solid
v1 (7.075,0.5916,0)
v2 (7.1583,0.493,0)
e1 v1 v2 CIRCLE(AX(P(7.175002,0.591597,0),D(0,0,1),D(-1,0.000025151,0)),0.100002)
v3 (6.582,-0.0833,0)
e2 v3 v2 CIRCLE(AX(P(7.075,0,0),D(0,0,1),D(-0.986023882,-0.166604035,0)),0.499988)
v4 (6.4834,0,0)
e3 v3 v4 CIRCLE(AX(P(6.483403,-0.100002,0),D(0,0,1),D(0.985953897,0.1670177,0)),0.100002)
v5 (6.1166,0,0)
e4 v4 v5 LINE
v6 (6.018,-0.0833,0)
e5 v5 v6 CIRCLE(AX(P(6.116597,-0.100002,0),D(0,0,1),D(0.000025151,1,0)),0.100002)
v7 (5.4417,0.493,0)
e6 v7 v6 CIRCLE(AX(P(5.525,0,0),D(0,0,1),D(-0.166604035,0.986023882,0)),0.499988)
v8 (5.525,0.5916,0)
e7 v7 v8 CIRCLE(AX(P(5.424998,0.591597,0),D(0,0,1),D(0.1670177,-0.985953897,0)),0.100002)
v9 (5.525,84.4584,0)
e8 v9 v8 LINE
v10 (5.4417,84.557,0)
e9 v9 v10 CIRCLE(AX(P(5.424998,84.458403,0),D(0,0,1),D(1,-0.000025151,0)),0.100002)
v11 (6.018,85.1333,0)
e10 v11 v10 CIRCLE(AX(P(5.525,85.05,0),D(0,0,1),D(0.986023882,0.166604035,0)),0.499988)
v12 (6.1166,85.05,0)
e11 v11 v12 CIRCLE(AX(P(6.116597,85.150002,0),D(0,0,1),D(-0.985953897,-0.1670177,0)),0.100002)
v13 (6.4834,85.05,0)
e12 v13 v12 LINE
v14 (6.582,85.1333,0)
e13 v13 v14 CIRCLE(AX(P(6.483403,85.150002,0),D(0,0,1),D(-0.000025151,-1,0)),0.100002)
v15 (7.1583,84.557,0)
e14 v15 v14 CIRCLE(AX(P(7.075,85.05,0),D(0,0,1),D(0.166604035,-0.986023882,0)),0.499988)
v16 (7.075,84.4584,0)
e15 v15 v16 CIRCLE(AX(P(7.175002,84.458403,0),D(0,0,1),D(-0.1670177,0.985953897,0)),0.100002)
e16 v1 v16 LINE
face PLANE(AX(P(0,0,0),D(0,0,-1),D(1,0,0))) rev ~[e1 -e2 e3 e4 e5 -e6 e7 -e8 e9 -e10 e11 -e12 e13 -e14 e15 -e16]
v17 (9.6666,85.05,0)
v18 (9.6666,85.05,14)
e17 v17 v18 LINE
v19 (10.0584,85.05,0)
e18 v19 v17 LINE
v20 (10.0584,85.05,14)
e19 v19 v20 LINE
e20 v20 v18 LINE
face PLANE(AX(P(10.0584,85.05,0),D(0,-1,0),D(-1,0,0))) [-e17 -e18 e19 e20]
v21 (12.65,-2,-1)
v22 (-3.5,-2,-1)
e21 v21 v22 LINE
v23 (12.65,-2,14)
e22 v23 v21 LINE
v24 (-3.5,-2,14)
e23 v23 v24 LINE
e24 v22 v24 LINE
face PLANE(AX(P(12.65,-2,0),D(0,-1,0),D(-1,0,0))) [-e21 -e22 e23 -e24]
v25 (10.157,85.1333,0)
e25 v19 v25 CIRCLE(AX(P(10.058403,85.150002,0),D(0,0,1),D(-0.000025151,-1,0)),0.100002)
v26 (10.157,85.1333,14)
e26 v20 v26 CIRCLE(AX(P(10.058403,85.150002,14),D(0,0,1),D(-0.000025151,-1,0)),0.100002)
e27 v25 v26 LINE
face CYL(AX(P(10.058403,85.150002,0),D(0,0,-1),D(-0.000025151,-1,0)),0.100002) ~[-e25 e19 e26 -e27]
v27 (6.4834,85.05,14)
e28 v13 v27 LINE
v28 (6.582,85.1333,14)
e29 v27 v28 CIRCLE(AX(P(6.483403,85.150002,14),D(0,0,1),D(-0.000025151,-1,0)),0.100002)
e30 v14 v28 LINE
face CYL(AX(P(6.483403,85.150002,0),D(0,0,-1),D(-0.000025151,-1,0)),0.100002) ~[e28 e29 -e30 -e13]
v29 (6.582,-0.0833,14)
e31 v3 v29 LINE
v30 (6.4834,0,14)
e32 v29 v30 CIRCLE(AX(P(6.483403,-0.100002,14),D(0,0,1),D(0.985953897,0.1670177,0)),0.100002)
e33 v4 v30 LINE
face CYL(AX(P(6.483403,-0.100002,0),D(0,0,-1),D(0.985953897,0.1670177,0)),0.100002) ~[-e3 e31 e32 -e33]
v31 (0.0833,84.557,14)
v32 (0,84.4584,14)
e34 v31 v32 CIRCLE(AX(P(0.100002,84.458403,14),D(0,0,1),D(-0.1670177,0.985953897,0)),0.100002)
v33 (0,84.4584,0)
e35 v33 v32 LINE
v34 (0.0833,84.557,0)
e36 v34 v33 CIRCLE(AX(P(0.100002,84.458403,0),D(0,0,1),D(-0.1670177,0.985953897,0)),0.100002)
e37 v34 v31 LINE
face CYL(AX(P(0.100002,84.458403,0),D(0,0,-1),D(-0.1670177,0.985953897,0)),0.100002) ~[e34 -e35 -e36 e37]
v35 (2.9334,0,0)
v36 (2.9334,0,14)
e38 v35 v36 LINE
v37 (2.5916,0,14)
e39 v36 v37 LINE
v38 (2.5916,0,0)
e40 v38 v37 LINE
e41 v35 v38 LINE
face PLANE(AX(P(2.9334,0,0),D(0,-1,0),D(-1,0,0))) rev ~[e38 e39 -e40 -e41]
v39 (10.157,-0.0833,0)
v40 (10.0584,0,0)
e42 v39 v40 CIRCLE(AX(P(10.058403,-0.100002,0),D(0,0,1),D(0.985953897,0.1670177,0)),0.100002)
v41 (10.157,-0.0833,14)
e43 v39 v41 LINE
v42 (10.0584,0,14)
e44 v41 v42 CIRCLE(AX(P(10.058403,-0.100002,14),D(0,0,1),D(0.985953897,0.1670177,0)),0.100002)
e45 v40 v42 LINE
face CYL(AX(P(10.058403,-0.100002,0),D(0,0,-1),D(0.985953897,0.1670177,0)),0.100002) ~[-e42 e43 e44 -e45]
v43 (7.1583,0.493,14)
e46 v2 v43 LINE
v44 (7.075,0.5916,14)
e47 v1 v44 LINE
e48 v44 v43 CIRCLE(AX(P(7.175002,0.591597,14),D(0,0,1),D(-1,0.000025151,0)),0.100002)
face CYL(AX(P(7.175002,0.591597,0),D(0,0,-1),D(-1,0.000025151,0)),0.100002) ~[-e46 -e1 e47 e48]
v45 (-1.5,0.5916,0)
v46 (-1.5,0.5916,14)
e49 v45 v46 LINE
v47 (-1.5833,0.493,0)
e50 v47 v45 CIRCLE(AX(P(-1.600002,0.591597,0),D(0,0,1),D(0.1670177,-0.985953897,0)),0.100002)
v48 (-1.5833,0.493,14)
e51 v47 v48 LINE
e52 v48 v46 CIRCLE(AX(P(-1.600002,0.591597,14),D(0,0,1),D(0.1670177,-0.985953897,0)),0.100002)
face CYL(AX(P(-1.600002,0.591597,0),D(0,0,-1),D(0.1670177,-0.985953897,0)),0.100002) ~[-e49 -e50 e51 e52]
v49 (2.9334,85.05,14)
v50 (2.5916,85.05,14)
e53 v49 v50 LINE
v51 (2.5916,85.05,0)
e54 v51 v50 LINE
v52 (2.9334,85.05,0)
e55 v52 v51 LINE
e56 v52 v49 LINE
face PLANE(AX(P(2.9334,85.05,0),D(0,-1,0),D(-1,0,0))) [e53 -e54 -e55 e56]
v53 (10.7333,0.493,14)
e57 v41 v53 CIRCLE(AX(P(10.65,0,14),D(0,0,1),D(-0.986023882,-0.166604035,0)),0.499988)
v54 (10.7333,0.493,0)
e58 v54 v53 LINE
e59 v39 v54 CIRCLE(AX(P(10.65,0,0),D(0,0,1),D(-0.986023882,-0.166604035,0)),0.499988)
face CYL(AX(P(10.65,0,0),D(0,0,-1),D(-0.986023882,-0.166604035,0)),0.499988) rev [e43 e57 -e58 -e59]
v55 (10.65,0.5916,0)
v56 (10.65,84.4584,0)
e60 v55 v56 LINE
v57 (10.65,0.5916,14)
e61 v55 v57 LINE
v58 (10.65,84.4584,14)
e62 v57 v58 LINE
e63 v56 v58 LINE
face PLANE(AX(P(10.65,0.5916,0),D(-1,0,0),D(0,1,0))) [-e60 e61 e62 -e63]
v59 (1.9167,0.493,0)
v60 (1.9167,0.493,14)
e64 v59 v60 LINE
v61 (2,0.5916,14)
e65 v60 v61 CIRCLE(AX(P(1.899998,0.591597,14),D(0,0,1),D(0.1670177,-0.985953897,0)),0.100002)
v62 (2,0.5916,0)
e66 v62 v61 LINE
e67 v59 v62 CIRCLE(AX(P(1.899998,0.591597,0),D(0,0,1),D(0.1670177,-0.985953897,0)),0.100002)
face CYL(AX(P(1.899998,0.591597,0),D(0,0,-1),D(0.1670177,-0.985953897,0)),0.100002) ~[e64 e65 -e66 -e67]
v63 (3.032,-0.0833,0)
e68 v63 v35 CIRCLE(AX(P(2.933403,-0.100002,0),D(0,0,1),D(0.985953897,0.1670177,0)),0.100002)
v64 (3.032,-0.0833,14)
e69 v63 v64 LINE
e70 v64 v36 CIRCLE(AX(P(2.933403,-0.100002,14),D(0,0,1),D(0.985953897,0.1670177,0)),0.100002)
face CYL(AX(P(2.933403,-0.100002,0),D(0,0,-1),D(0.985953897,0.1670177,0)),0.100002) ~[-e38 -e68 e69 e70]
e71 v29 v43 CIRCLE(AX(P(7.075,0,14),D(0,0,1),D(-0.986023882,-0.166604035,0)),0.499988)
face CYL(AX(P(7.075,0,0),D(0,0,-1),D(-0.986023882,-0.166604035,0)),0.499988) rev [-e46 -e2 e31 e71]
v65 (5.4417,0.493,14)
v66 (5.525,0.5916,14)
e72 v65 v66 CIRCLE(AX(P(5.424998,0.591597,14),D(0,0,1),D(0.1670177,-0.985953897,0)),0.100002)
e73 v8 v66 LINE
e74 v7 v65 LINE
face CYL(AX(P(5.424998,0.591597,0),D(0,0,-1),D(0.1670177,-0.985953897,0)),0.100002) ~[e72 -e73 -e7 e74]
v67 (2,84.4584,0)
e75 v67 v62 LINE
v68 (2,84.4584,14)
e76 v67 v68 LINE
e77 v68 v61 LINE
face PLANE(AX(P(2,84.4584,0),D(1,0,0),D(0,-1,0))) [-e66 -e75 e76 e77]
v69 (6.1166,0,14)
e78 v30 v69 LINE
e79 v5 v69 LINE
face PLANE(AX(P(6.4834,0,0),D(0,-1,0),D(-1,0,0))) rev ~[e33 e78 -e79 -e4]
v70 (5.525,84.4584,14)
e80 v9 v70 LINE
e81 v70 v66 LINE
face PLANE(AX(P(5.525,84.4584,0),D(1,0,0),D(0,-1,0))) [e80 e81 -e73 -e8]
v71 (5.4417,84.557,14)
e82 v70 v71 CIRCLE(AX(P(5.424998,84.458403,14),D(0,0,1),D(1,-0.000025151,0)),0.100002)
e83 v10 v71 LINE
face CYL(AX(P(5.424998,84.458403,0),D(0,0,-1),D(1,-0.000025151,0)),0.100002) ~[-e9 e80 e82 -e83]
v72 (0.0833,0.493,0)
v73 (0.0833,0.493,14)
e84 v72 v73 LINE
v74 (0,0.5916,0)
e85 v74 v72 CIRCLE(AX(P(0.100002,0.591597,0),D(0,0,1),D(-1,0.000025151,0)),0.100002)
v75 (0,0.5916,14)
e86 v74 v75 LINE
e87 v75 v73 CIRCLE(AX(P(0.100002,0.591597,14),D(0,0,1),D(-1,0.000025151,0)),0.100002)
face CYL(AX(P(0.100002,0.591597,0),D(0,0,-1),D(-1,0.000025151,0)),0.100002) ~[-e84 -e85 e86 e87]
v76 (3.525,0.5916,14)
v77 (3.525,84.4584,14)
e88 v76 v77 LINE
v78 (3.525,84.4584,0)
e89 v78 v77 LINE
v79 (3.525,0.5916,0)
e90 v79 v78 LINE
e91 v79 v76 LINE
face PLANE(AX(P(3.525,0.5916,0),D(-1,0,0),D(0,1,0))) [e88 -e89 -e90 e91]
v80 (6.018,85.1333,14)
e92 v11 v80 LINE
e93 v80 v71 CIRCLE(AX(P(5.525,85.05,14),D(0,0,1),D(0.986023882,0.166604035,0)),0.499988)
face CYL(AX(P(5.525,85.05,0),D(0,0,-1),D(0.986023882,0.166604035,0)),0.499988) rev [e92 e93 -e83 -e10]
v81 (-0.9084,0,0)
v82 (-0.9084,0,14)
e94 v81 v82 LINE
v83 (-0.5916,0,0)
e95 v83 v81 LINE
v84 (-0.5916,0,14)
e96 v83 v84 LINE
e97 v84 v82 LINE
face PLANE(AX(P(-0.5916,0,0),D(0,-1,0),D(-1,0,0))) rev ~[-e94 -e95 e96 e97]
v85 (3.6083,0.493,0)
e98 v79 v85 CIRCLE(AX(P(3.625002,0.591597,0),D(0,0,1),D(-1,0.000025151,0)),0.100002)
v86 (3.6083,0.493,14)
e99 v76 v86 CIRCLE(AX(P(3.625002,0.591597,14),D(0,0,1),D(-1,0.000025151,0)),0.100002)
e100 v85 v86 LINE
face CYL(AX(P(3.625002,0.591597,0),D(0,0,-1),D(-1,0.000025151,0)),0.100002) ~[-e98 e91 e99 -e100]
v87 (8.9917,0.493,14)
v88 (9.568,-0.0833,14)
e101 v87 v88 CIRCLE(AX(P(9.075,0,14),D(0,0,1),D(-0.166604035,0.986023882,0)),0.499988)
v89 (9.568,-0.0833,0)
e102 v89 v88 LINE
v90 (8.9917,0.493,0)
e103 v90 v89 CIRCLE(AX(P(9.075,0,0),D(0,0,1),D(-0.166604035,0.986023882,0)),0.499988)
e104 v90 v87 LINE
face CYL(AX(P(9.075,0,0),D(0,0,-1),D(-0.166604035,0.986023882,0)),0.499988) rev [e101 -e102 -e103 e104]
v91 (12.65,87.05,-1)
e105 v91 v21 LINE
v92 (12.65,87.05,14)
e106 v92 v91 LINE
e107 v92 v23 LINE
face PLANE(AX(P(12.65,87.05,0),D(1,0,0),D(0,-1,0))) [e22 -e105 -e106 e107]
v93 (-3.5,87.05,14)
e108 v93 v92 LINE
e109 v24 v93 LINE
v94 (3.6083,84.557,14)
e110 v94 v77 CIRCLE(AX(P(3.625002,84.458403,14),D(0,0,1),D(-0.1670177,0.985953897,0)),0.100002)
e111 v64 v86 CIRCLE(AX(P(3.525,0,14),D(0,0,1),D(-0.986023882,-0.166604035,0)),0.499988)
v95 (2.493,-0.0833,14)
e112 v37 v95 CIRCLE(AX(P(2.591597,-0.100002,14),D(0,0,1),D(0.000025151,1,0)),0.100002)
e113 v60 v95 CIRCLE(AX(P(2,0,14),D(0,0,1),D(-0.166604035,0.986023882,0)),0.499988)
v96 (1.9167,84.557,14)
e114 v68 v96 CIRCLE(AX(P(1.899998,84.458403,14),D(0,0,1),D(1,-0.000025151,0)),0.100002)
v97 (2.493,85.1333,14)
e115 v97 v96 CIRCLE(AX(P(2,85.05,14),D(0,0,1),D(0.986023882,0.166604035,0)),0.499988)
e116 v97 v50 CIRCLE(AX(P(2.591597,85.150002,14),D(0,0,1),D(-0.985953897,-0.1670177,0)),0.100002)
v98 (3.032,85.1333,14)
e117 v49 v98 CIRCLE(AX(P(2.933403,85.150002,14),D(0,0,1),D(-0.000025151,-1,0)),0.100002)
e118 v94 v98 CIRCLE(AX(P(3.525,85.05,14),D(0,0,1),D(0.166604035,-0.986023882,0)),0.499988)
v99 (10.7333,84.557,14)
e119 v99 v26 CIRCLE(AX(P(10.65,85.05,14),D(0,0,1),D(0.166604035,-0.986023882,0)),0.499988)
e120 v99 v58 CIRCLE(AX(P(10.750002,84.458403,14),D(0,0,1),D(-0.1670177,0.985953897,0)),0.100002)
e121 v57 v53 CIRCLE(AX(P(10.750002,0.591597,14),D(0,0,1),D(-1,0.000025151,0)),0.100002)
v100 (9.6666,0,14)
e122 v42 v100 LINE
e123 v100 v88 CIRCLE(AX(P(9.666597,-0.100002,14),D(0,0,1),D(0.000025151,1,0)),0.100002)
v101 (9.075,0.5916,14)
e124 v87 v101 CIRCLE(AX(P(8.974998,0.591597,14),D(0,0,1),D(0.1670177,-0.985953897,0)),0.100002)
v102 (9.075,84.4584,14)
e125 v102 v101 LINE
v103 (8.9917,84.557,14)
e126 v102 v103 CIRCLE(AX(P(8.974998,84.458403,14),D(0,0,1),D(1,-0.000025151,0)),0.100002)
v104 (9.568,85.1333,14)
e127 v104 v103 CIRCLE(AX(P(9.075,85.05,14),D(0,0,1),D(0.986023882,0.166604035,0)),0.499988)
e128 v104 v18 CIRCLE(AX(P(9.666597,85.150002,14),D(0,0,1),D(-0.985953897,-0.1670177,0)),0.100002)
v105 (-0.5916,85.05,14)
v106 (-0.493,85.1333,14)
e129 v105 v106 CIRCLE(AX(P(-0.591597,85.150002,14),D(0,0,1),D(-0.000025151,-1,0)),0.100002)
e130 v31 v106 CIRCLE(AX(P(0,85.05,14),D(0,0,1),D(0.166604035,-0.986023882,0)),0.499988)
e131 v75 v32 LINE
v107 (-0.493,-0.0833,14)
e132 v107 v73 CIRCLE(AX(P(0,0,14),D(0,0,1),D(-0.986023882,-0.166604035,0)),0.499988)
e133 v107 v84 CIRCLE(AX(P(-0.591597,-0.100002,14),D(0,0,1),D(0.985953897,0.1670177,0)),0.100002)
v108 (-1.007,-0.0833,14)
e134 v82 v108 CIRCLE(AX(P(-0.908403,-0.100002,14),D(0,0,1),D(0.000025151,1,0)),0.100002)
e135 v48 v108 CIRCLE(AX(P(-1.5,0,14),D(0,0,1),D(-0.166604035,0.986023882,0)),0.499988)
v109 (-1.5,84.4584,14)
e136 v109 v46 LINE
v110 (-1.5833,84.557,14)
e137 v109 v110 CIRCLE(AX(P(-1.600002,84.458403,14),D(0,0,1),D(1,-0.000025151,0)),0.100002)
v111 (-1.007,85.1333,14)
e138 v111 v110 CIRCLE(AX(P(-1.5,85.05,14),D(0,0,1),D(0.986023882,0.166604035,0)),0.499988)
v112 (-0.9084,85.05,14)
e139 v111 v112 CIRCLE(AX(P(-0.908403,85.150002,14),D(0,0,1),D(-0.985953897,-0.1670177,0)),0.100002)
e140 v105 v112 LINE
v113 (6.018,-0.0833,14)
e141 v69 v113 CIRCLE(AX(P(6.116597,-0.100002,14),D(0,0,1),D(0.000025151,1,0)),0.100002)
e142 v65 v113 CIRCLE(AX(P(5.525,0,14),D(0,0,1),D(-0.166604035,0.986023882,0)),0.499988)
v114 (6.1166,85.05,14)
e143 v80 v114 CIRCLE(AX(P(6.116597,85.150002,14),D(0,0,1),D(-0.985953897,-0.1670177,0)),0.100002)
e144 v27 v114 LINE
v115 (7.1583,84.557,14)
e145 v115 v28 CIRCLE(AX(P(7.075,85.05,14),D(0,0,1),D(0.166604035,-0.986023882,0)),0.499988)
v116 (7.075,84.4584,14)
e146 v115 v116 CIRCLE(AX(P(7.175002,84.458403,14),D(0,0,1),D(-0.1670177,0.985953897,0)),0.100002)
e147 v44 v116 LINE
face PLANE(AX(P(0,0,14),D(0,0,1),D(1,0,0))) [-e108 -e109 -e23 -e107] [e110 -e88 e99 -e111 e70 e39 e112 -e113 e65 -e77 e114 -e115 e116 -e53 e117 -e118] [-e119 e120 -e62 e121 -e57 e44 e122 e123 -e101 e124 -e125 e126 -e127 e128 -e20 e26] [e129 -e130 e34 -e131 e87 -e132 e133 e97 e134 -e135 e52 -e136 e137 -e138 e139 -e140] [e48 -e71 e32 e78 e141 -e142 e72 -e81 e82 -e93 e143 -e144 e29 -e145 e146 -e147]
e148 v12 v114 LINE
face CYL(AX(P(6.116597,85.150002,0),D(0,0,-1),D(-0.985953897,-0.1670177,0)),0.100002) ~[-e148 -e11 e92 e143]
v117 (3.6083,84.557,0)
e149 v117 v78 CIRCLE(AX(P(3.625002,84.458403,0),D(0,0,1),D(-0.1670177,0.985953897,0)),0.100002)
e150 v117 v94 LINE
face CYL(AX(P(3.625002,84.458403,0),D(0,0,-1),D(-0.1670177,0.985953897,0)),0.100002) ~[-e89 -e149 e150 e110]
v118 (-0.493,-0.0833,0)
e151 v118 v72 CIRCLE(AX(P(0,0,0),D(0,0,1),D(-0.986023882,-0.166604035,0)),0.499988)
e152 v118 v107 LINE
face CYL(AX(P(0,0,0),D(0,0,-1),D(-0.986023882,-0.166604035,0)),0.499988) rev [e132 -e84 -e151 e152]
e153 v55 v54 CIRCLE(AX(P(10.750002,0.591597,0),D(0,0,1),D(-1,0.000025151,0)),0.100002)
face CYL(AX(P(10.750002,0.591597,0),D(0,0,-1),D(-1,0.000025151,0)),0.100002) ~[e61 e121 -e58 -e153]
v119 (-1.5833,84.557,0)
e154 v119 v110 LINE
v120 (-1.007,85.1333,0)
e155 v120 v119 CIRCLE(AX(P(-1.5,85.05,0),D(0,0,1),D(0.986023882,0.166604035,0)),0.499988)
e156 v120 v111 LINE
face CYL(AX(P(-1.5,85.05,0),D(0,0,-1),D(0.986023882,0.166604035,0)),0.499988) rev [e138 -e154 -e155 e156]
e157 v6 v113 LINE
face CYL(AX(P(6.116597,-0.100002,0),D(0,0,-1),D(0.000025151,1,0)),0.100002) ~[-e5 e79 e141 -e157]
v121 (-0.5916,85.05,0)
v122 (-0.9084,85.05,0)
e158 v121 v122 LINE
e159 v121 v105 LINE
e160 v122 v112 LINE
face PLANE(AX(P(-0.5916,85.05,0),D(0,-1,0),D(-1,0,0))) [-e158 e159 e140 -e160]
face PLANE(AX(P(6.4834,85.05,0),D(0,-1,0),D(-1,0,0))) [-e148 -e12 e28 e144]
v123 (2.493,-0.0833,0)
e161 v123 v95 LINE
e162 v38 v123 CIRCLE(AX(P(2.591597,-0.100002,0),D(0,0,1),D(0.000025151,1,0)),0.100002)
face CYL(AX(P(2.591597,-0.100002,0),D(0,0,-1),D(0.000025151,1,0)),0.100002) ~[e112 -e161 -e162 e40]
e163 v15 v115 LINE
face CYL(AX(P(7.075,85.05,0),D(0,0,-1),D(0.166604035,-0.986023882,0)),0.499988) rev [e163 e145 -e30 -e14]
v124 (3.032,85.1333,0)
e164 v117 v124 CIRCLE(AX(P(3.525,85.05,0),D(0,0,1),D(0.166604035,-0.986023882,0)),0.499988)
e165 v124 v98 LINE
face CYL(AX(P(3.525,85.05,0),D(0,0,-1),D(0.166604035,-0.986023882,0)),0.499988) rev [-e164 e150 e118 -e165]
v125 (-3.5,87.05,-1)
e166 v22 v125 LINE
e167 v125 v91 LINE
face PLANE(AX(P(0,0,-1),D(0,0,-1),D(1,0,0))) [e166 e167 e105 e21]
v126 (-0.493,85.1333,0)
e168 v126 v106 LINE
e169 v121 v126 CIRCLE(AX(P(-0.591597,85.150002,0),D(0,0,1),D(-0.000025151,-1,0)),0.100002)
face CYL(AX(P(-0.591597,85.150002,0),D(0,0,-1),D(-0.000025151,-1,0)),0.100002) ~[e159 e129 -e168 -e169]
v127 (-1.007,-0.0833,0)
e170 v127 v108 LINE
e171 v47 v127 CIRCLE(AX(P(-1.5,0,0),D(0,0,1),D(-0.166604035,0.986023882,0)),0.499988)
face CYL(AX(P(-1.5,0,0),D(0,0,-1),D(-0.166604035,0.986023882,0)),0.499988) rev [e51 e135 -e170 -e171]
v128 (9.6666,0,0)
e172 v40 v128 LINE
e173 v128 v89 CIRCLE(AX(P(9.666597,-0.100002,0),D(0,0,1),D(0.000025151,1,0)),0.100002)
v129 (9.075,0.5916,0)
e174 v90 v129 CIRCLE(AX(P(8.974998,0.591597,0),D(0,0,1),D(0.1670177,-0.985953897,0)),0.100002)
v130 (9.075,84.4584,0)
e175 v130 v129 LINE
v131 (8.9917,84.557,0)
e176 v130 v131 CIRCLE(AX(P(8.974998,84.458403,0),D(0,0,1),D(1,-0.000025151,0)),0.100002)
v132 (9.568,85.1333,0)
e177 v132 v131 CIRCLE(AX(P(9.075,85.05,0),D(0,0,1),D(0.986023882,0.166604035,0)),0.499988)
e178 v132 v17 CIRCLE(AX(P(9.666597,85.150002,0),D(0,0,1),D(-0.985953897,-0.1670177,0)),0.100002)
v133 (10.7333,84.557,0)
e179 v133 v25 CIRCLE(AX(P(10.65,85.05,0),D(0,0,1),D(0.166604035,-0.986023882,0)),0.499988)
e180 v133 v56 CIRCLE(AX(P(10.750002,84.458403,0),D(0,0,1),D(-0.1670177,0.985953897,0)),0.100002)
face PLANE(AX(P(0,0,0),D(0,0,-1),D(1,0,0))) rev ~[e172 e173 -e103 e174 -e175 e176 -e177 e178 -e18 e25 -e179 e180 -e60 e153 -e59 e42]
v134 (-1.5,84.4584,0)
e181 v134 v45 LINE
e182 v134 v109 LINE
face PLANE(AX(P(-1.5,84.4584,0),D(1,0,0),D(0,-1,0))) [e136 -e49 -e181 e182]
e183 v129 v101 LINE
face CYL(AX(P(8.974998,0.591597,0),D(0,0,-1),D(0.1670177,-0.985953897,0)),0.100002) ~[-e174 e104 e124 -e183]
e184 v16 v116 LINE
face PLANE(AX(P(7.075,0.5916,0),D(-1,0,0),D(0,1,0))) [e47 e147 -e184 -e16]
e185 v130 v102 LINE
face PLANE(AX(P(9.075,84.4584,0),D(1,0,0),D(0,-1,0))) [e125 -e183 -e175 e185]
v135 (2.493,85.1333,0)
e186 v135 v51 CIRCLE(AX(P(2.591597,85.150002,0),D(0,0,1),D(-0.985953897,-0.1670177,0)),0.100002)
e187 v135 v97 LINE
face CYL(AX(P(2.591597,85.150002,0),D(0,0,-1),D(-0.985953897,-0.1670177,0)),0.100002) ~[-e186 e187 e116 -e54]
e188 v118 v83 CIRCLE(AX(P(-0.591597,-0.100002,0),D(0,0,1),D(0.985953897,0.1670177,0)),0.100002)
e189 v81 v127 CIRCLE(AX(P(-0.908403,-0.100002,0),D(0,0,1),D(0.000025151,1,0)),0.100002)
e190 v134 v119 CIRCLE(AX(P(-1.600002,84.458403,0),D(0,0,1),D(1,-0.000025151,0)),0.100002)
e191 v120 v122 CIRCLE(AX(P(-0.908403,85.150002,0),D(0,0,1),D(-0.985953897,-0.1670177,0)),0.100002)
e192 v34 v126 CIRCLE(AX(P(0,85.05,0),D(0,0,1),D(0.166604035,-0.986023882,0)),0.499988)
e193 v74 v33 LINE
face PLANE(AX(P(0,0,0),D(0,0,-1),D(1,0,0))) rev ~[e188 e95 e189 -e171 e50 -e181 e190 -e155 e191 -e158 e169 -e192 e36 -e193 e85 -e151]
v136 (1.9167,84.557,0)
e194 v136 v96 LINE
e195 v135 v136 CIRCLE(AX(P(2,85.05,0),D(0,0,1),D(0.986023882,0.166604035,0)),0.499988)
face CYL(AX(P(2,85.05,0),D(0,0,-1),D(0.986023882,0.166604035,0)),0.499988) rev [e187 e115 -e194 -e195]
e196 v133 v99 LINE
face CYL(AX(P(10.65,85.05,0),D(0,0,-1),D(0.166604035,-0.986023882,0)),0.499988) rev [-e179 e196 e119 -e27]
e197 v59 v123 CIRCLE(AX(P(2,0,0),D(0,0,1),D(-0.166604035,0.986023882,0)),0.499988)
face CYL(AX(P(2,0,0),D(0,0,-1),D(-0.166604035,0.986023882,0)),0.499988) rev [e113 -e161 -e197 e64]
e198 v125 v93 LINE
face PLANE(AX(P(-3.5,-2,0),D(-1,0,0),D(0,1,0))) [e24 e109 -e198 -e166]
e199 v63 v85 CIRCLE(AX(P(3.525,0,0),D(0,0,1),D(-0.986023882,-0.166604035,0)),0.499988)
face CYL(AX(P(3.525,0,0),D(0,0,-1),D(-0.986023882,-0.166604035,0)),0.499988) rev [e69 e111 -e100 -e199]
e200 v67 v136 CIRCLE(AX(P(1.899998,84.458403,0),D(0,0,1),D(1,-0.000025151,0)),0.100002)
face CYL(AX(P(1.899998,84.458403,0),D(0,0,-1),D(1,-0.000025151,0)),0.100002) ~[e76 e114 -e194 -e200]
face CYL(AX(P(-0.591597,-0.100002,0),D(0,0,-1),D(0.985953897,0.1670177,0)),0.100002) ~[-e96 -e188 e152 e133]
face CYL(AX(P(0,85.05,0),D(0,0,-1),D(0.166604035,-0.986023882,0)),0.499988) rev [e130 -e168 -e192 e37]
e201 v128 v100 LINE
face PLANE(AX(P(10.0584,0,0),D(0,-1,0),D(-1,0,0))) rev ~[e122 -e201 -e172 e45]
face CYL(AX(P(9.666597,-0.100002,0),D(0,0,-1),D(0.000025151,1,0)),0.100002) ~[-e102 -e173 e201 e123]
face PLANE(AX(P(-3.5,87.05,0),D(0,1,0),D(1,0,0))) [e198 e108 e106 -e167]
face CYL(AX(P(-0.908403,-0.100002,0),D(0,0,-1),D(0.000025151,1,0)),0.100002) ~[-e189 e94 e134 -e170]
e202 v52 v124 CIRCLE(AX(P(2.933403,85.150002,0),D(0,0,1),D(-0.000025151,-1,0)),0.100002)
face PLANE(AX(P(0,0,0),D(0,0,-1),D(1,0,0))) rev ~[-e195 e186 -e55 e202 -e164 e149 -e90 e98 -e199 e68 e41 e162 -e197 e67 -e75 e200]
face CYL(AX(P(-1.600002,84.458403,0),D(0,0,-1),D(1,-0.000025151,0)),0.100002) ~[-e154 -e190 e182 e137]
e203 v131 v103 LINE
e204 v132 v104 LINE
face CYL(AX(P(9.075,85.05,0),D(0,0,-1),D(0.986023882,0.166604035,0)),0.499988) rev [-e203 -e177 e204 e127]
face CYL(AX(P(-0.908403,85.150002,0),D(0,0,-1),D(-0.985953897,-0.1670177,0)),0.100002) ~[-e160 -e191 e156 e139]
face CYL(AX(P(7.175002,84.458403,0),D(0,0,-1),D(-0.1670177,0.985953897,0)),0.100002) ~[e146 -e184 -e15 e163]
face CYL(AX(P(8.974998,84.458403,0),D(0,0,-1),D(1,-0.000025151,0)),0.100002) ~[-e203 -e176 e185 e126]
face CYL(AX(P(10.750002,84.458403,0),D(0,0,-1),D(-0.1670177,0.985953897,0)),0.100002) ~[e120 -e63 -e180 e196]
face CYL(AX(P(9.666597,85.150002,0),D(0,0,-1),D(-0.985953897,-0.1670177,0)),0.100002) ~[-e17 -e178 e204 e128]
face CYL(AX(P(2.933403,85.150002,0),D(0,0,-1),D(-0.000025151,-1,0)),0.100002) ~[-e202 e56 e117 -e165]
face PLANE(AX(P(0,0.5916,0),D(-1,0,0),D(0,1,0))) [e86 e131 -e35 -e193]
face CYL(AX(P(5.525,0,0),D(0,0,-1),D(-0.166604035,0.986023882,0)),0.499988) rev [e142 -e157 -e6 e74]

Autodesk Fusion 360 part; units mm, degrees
sketch "Sketch1" plane through (0, 0, 0) normal (0, 0, 1) x (1, 0, 0)
  arc A0 (-0.5916, 85.05) -> (-0.493, 85.1333) centre (-0.5916, 85.15) ccw
  line L0 (-0.5916, 85.05) -> (-0.9084, 85.05)
  arc A1 (-1.007, 85.1333) -> (-1.5833, 84.557) centre (-1.5, 85.05) ccw
  arc A2 (0.0833, 84.557) -> (-0.493, 85.1333) centre (0, 85.05) ccw
  arc A3 (-1.007, 85.1333) -> (-0.9084, 85.05) centre (-0.9084, 85.15) ccw
  arc A4 (-1.5, 84.4584) -> (-1.5833, 84.557) centre (-1.6, 84.4584) ccw
  line L1 (-1.5, 84.4584) -> (-1.5, 0.5916)
  line L2 (0, 0.5916) -> (0, 84.4584)
  arc A5 (0.0833, 84.557) -> (0, 84.4584) centre (0.1, 84.4584) ccw
  line L3 (-1.5, 42.525) -> (0, 42.525) construction
  arc A6 (0, 0.5916) -> (0.0833, 0.493) centre (0.1, 0.5916) ccw
  arc A7 (-1.5833, 0.493) -> (-1.5, 0.5916) centre (-1.6, 0.5916) ccw
  arc A8 (-0.9084, 0) -> (-1.007, -0.0833) centre (-0.9084, -0.1) ccw
  arc A9 (-1.5833, 0.493) -> (-1.007, -0.0833) centre (-1.5, 0) ccw
  line L4 (-0.5916, 0) -> (-0.9084, 0)
  arc A10 (-0.493, -0.0833) -> (-0.5916, 0) centre (-0.5916, -0.1) ccw
  arc A11 (-0.493, -0.0833) -> (0.0833, 0.493) centre (0, 0) ccw
  line L5 (-3.5, 87.05) -> (12.65, 87.05)
  line L6 (12.65, 87.05) -> (12.65, -2)
  line L7 (12.65, -2) -> (-3.5, -2)
  line L8 (-3.5, -2) -> (-3.5, 87.05)
  line L9 (2.9334, 0) -> (2.5916, 0)
  line L10 (2, 84.4584) -> (2, 0.5916)
  arc A12 (3.6083, 84.557) -> (3.525, 84.4584) centre (3.625, 84.4584) ccw
  arc A13 (2.9334, 85.05) -> (3.032, 85.1333) centre (2.9334, 85.15) ccw
  arc A14 (1.9167, 0.493) -> (2.493, -0.0833) centre (2, 0) ccw
  arc A15 (2.493, 85.1333) -> (2.5916, 85.05) centre (2.5916, 85.15) ccw
  arc A16 (3.032, -0.0833) -> (3.6083, 0.493) centre (3.525, 0) ccw
  arc A17 (2, 84.4584) -> (1.9167, 84.557) centre (1.9, 84.4584) ccw
  arc A18 (3.525, 0.5916) -> (3.6083, 0.493) centre (3.625, 0.5916) ccw
  line L11 (2.9334, 85.05) -> (2.5916, 85.05)
  arc A19 (2.5916, 0) -> (2.493, -0.0833) centre (2.5916, -0.1) ccw
  line L12 (2, 42.525) -> (3.525, 42.525) construction
  arc A20 (2.493, 85.1333) -> (1.9167, 84.557) centre (2, 85.05) ccw
  arc A21 (3.6083, 84.557) -> (3.032, 85.1333) centre (3.525, 85.05) ccw
  arc A22 (3.032, -0.0833) -> (2.9334, 0) centre (2.9334, -0.1) ccw
  arc A23 (1.9167, 0.493) -> (2, 0.5916) centre (1.9, 0.5916) ccw
  line L13 (3.525, 0.5916) -> (3.525, 84.4584)
  arc A24 (5.4417, 0.493) -> (6.018, -0.0833) centre (5.525, 0) ccw
  line L14 (10.65, 0.5916) -> (10.65, 84.4584)
  line L15 (7.075, 0.5916) -> (7.075, 84.4584)
  line L16 (9.075, 42.525) -> (10.65, 42.525) construction
  arc A25 (9.568, 85.1333) -> (8.9917, 84.557) centre (9.075, 85.05) ccw
  line L17 (5.525, 84.4584) -> (5.525, 0.5916)
  arc A26 (6.582, -0.0833) -> (7.1583, 0.493) centre (7.075, 0) ccw
  arc A27 (10.157, -0.0833) -> (10.7333, 0.493) centre (10.65, 0) ccw
  arc A28 (6.018, 85.1333) -> (5.4417, 84.557) centre (5.525, 85.05) ccw
  line L18 (10.0584, 85.05) -> (9.6666, 85.05)
  arc A29 (8.9917, 0.493) -> (9.075, 0.5916) centre (8.975, 0.5916) ccw
  line L19 (6.4834, 0) -> (6.1166, 0)
  arc A30 (6.018, 85.1333) -> (6.1166, 85.05) centre (6.1166, 85.15) ccw
  arc A31 (9.568, 85.1333) -> (9.6666, 85.05) centre (9.6666, 85.15) ccw
  arc A32 (7.075, 0.5916) -> (7.1583, 0.493) centre (7.175, 0.5916) ccw
  line L20 (5.525, 42.525) -> (7.075, 42.525) construction
  arc A33 (6.1166, 0) -> (6.018, -0.0833) centre (6.1166, -0.1) ccw
  arc A34 (7.1583, 84.557) -> (7.075, 84.4584) centre (7.175, 84.4584) ccw
  line L21 (6.4834, 85.05) -> (6.1166, 85.05)
  arc A35 (9.075, 84.4584) -> (8.9917, 84.557) centre (8.975, 84.4584) ccw
  line L22 (9.075, 84.4584) -> (9.075, 0.5916)
  arc A36 (10.7333, 84.557) -> (10.65, 84.4584) centre (10.75, 84.4584) ccw
  arc A37 (6.582, -0.0833) -> (6.4834, 0) centre (6.4834, -0.1) ccw
  arc A38 (8.9917, 0.493) -> (9.568, -0.0833) centre (9.075, 0) ccw
  arc A39 (6.4834, 85.05) -> (6.582, 85.1333) centre (6.4834, 85.15) ccw
  arc A40 (7.1583, 84.557) -> (6.582, 85.1333) centre (7.075, 85.05) ccw
  arc A41 (9.6666, 0) -> (9.568, -0.0833) centre (9.6666, -0.1) ccw
  arc A42 (10.7333, 84.557) -> (10.157, 85.1333) centre (10.65, 85.05) ccw
  line L23 (10.0584, 0) -> (9.6666, 0)
  arc A43 (5.525, 84.4584) -> (5.4417, 84.557) centre (5.425, 84.4584) ccw
  arc A44 (10.65, 0.5916) -> (10.7333, 0.493) centre (10.75, 0.5916) ccw
  arc A45 (10.157, -0.0833) -> (10.0584, 0) centre (10.0584, -0.1) ccw
  arc A46 (5.4417, 0.493) -> (5.525, 0.5916) centre (5.425, 0.5916) ccw
  arc A47 (10.0584, 85.05) -> (10.157, 85.1333) centre (10.0584, 85.15) ccw
  arc A48 (9.568, 85.1333) -> (9.6666, 85.05) centre (9.6666, 85.15) ccw
  arc A49 (6.4834, 85.05) -> (6.582, 85.1333) centre (6.4834, 85.15) ccw
  arc A50 (10.0584, 85.05) -> (10.157, 85.1333) centre (10.0584, 85.15) ccw
  arc A51 (6.018, 85.1333) -> (5.4417, 84.557) centre (5.525, 85.05) ccw
  line L24 (10.0584, 85.05) -> (9.6666, 85.05)
  arc A52 (2.9334, 85.05) -> (3.032, 85.1333) centre (2.9334, 85.15) ccw
  arc A53 (10.7333, 84.557) -> (10.157, 85.1333) centre (10.65, 85.05) ccw
  arc A54 (6.018, 85.1333) -> (6.1166, 85.05) centre (6.1166, 85.15) ccw
  arc A55 (5.525, 84.4584) -> (5.4417, 84.557) centre (5.425, 84.4584) ccw
  arc A56 (2, 84.4584) -> (1.9167, 84.557) centre (1.9, 84.4584) ccw
  arc A57 (0.0833, 84.557) -> (0, 84.4584) centre (0.1, 84.4584) ccw
  arc A58 (10.7333, 84.557) -> (10.65, 84.4584) centre (10.75, 84.4584) ccw
  arc A59 (-1.007, 85.1333) -> (-1.5833, 84.557) centre (-1.5, 85.05) ccw
  line L25 (2.9334, 85.05) -> (2.5916, 85.05)
  arc A60 (3.6083, 84.557) -> (3.032, 85.1333) centre (3.525, 85.05) ccw
  arc A61 (-1.007, 85.1333) -> (-0.9084, 85.05) centre (-0.9084, 85.15) ccw
  arc A62 (7.1583, 84.557) -> (6.582, 85.1333) centre (7.075, 85.05) ccw
  arc A63 (2.493, 85.1333) -> (1.9167, 84.557) centre (2, 85.05) ccw
  arc A64 (9.075, 84.4584) -> (8.9917, 84.557) centre (8.975, 84.4584) ccw
  line L26 (-0.5916, 85.05) -> (-0.9084, 85.05)
  arc A65 (0.0833, 84.557) -> (-0.493, 85.1333) centre (0, 85.05) ccw
  arc A66 (-1.5, 84.4584) -> (-1.5833, 84.557) centre (-1.6, 84.4584) ccw
  arc A67 (-0.5916, 85.05) -> (-0.493, 85.1333) centre (-0.5916, 85.15) ccw
  arc A68 (7.1583, 84.557) -> (7.075, 84.4584) centre (7.175, 84.4584) ccw
  arc A69 (2.493, 85.1333) -> (2.5916, 85.05) centre (2.5916, 85.15) ccw
  line L27 (6.4834, 85.05) -> (6.1166, 85.05)
  arc A70 (3.6083, 84.557) -> (3.525, 84.4584) centre (3.625, 84.4584) ccw
  arc A71 (9.568, 85.1333) -> (8.9917, 84.557) centre (9.075, 85.05) ccw
  point P0 (-3.5, 87.05)
  point P1 (3.525, 0)
  point P2 (0.5, 87.05)
  point P3 (10.65, 0)
  point P4 (6.3, 0)
  dimension "d1" = 0.5
  dimension "d2" = 0.1
  dimension "d3" = 1.5
  dimension "d10" = 85.05
  dimension "d12" = 2
  dimension "d13" = 2
  dimension "d14" = 2
  dimension "d15" = 0.5
  dimension "d16" = 0.1
  dimension "d17" = 1.525
  dimension "d20" = 0.5
  dimension "d21" = 0.1
  dimension "d22" = 1.55
  dimension "d24" = 0.5
  dimension "d25" = 0.1
  dimension "d26" = 1.575
  dimension "d29" = 2
  dimension "d30" = 2
  dimension "d32" = 2
  dimension "d38" = 0.5
  dimension "d39" = 0.1
  dimension "d40" = 0.5
  dimension "d41" = 0.1
  dimension "d42" = 0.5
  dimension "d43" = 0.1
  dimension "d44" = 0.5
  dimension "d45" = 0.1
  dimension "d46" = 2
extrude "Extrude1" add sketch "Sketch1" along normal blind 14
sketch "Sketch2" plane through (0, 0, 0) normal (0, 0, -1) x (1, 0, 0)
  arc A0 (6.582, -85.1333) -> (7.1583, -84.557) centre (7.075, -85.05) ccw
  arc A1 (6.582, -85.1333) -> (6.4834, -85.05) centre (6.4834, -85.15) ccw
  line L0 (6.4834, -85.05) -> (6.1166, -85.05)
  arc A2 (6.1166, -85.05) -> (6.018, -85.1333) centre (6.1166, -85.15) ccw
  arc A3 (5.4417, -84.557) -> (6.018, -85.1333) centre (5.525, -85.05) ccw
  arc A4 (5.4417, -84.557) -> (5.525, -84.4584) centre (5.425, -84.4584) ccw
  line L1 (5.525, -84.4584) -> (5.525, -0.5916)
  arc A5 (5.525, -0.5916) -> (5.4417, -0.493) centre (5.425, -0.5916) ccw
  arc A6 (6.018, 0.0833) -> (5.4417, -0.493) centre (5.525, 0) ccw
  arc A7 (6.018, 0.0833) -> (6.1166, 0) centre (6.1166, 0.1) ccw
  line L2 (6.1166, 0) -> (6.4834, 0)
  arc A8 (6.4834, 0) -> (6.582, 0.0833) centre (6.4834, 0.1) ccw
  arc A9 (7.1583, -0.493) -> (6.582, 0.0833) centre (7.075, 0) ccw
  arc A10 (7.1583, -0.493) -> (7.075, -0.5916) centre (7.175, -0.5916) ccw
  line L3 (7.075, -0.5916) -> (7.075, -84.4584)
  arc A11 (7.075, -84.4584) -> (7.1583, -84.557) centre (7.175, -84.4584) ccw
  line L4 (10.0584, -85.05) -> (9.6666, -85.05)
  arc A12 (9.6666, -85.05) -> (9.568, -85.1333) centre (9.6666, -85.15) ccw
  arc A13 (8.9917, -84.557) -> (9.568, -85.1333) centre (9.075, -85.05) ccw
  arc A14 (8.9917, -84.557) -> (9.075, -84.4584) centre (8.975, -84.4584) ccw
  line L5 (9.075, -84.4584) -> (9.075, -0.5916)
  arc A15 (9.075, -0.5916) -> (8.9917, -0.493) centre (8.975, -0.5916) ccw
  arc A16 (9.568, 0.0833) -> (8.9917, -0.493) centre (9.075, 0) ccw
  arc A17 (9.568, 0.0833) -> (9.6666, 0) centre (9.6666, 0.1) ccw
  line L6 (9.6666, 0) -> (10.0584, 0)
  arc A18 (10.0584, 0) -> (10.157, 0.0833) centre (10.0584, 0.1) ccw
  arc A19 (10.7333, -0.493) -> (10.157, 0.0833) centre (10.65, 0) ccw
  arc A20 (10.7333, -0.493) -> (10.65, -0.5916) centre (10.75, -0.5916) ccw
  line L7 (10.65, -0.5916) -> (10.65, -84.4584)
  arc A21 (10.65, -84.4584) -> (10.7333, -84.557) centre (10.75, -84.4584) ccw
  arc A22 (10.157, -85.1333) -> (10.7333, -84.557) centre (10.65, -85.05) ccw
  arc A23 (10.157, -85.1333) -> (10.0584, -85.05) centre (10.0584, -85.15) ccw
  line L8 (2.9334, -85.05) -> (2.5916, -85.05)
  arc A24 (2.5916, -85.05) -> (2.493, -85.1333) centre (2.5916, -85.15) ccw
  arc A25 (1.9167, -84.557) -> (2.493, -85.1333) centre (2, -85.05) ccw
  arc A26 (1.9167, -84.557) -> (2, -84.4584) centre (1.9, -84.4584) ccw
  line L9 (2, -84.4584) -> (2, -0.5916)
  arc A27 (2, -0.5916) -> (1.9167, -0.493) centre (1.9, -0.5916) ccw
  arc A28 (2.493, 0.0833) -> (1.9167, -0.493) centre (2, 0) ccw
  arc A29 (2.493, 0.0833) -> (2.5916, 0) centre (2.5916, 0.1) ccw
  line L10 (2.5916, 0) -> (2.9334, 0)
  arc A30 (2.9334, 0) -> (3.032, 0.0833) centre (2.9334, 0.1) ccw
  arc A31 (3.6083, -0.493) -> (3.032, 0.0833) centre (3.525, 0) ccw
  arc A32 (3.6083, -0.493) -> (3.525, -0.5916) centre (3.625, -0.5916) ccw
  line L11 (3.525, -0.5916) -> (3.525, -84.4584)
  arc A33 (3.525, -84.4584) -> (3.6083, -84.557) centre (3.625, -84.4584) ccw
  arc A34 (3.032, -85.1333) -> (3.6083, -84.557) centre (3.525, -85.05) ccw
  arc A35 (3.032, -85.1333) -> (2.9334, -85.05) centre (2.9334, -85.15) ccw
  arc A36 (-1.5833, -84.557) -> (-1.007, -85.1333) centre (-1.5, -85.05) ccw
  arc A37 (-1.5833, -84.557) -> (-1.5, -84.4584) centre (-1.6, -84.4584) ccw
  line L12 (-1.5, -84.4584) -> (-1.5, -0.5916)
  arc A38 (-1.5, -0.5916) -> (-1.5833, -0.493) centre (-1.6, -0.5916) ccw
  arc A39 (-1.007, 0.0833) -> (-1.5833, -0.493) centre (-1.5, 0) ccw
  arc A40 (-1.007, 0.0833) -> (-0.9084, 0) centre (-0.9084, 0.1) ccw
  line L13 (-0.9084, 0) -> (-0.5916, 0)
  arc A41 (-0.5916, 0) -> (-0.493, 0.0833) centre (-0.5916, 0.1) ccw
  arc A42 (0.0833, -0.493) -> (-0.493, 0.0833) centre (0, 0) ccw
  arc A43 (0.0833, -0.493) -> (0, -0.5916) centre (0.1, -0.5916) ccw
  line L14 (0, -0.5916) -> (0, -84.4584)
  arc A44 (0, -84.4584) -> (0.0833, -84.557) centre (0.1, -84.4584) ccw
  arc A45 (-0.493, -85.1333) -> (0.0833, -84.557) centre (0, -85.05) ccw
  arc A46 (-0.493, -85.1333) -> (-0.5916, -85.05) centre (-0.5916, -85.15) ccw
  line L15 (-0.5916, -85.05) -> (-0.9084, -85.05)
  arc A47 (-0.9084, -85.05) -> (-1.007, -85.1333) centre (-0.9084, -85.15) ccw
  line L16 (12.65, 2) -> (-3.5, 2)
  line L17 (-3.5, 2) -> (-3.5, -87.05)
  line L18 (-3.5, -87.05) -> (12.65, -87.05)
  line L19 (12.65, -87.05) -> (12.65, 2)
  line L20 (12.65, -87.05) -> (-3.5, -87.05)
  line L21 (-3.5, -87.05) -> (-3.5, 2)
  line L22 (-3.5, 2) -> (12.65, 2)
  line L23 (12.65, 2) -> (12.65, -87.05)
extrude "Extrude2" add sketch "Sketch2" along normal blind 1 contours A0 A1 L0 A2 A3 A4 L1 A5 A6 A7 L2 A8 A9 A10 L3 A11 | L4 A12 A13 A14 L5 A15 A16 A17 L6 A18 A19 A20 L7 A21 A22 A23 | L8 A24 A25 A26 L9 A27 A28 A29 L10 A30 A31 A32 L11 A33 A34 A35 | A36 A37 L12 A38 A39 A40 L13 A41 A42 A43 L14 A44 A45 A46 L15 A47 | L16 L17 L18 L19 L20 L21 L22 L23
equation "d14 = d12"
equation "d26 = 1.55 mm + 0.025 mm"
equation "d29 = d13"
equation "d30 = d13"
equation "d32 = d13"
